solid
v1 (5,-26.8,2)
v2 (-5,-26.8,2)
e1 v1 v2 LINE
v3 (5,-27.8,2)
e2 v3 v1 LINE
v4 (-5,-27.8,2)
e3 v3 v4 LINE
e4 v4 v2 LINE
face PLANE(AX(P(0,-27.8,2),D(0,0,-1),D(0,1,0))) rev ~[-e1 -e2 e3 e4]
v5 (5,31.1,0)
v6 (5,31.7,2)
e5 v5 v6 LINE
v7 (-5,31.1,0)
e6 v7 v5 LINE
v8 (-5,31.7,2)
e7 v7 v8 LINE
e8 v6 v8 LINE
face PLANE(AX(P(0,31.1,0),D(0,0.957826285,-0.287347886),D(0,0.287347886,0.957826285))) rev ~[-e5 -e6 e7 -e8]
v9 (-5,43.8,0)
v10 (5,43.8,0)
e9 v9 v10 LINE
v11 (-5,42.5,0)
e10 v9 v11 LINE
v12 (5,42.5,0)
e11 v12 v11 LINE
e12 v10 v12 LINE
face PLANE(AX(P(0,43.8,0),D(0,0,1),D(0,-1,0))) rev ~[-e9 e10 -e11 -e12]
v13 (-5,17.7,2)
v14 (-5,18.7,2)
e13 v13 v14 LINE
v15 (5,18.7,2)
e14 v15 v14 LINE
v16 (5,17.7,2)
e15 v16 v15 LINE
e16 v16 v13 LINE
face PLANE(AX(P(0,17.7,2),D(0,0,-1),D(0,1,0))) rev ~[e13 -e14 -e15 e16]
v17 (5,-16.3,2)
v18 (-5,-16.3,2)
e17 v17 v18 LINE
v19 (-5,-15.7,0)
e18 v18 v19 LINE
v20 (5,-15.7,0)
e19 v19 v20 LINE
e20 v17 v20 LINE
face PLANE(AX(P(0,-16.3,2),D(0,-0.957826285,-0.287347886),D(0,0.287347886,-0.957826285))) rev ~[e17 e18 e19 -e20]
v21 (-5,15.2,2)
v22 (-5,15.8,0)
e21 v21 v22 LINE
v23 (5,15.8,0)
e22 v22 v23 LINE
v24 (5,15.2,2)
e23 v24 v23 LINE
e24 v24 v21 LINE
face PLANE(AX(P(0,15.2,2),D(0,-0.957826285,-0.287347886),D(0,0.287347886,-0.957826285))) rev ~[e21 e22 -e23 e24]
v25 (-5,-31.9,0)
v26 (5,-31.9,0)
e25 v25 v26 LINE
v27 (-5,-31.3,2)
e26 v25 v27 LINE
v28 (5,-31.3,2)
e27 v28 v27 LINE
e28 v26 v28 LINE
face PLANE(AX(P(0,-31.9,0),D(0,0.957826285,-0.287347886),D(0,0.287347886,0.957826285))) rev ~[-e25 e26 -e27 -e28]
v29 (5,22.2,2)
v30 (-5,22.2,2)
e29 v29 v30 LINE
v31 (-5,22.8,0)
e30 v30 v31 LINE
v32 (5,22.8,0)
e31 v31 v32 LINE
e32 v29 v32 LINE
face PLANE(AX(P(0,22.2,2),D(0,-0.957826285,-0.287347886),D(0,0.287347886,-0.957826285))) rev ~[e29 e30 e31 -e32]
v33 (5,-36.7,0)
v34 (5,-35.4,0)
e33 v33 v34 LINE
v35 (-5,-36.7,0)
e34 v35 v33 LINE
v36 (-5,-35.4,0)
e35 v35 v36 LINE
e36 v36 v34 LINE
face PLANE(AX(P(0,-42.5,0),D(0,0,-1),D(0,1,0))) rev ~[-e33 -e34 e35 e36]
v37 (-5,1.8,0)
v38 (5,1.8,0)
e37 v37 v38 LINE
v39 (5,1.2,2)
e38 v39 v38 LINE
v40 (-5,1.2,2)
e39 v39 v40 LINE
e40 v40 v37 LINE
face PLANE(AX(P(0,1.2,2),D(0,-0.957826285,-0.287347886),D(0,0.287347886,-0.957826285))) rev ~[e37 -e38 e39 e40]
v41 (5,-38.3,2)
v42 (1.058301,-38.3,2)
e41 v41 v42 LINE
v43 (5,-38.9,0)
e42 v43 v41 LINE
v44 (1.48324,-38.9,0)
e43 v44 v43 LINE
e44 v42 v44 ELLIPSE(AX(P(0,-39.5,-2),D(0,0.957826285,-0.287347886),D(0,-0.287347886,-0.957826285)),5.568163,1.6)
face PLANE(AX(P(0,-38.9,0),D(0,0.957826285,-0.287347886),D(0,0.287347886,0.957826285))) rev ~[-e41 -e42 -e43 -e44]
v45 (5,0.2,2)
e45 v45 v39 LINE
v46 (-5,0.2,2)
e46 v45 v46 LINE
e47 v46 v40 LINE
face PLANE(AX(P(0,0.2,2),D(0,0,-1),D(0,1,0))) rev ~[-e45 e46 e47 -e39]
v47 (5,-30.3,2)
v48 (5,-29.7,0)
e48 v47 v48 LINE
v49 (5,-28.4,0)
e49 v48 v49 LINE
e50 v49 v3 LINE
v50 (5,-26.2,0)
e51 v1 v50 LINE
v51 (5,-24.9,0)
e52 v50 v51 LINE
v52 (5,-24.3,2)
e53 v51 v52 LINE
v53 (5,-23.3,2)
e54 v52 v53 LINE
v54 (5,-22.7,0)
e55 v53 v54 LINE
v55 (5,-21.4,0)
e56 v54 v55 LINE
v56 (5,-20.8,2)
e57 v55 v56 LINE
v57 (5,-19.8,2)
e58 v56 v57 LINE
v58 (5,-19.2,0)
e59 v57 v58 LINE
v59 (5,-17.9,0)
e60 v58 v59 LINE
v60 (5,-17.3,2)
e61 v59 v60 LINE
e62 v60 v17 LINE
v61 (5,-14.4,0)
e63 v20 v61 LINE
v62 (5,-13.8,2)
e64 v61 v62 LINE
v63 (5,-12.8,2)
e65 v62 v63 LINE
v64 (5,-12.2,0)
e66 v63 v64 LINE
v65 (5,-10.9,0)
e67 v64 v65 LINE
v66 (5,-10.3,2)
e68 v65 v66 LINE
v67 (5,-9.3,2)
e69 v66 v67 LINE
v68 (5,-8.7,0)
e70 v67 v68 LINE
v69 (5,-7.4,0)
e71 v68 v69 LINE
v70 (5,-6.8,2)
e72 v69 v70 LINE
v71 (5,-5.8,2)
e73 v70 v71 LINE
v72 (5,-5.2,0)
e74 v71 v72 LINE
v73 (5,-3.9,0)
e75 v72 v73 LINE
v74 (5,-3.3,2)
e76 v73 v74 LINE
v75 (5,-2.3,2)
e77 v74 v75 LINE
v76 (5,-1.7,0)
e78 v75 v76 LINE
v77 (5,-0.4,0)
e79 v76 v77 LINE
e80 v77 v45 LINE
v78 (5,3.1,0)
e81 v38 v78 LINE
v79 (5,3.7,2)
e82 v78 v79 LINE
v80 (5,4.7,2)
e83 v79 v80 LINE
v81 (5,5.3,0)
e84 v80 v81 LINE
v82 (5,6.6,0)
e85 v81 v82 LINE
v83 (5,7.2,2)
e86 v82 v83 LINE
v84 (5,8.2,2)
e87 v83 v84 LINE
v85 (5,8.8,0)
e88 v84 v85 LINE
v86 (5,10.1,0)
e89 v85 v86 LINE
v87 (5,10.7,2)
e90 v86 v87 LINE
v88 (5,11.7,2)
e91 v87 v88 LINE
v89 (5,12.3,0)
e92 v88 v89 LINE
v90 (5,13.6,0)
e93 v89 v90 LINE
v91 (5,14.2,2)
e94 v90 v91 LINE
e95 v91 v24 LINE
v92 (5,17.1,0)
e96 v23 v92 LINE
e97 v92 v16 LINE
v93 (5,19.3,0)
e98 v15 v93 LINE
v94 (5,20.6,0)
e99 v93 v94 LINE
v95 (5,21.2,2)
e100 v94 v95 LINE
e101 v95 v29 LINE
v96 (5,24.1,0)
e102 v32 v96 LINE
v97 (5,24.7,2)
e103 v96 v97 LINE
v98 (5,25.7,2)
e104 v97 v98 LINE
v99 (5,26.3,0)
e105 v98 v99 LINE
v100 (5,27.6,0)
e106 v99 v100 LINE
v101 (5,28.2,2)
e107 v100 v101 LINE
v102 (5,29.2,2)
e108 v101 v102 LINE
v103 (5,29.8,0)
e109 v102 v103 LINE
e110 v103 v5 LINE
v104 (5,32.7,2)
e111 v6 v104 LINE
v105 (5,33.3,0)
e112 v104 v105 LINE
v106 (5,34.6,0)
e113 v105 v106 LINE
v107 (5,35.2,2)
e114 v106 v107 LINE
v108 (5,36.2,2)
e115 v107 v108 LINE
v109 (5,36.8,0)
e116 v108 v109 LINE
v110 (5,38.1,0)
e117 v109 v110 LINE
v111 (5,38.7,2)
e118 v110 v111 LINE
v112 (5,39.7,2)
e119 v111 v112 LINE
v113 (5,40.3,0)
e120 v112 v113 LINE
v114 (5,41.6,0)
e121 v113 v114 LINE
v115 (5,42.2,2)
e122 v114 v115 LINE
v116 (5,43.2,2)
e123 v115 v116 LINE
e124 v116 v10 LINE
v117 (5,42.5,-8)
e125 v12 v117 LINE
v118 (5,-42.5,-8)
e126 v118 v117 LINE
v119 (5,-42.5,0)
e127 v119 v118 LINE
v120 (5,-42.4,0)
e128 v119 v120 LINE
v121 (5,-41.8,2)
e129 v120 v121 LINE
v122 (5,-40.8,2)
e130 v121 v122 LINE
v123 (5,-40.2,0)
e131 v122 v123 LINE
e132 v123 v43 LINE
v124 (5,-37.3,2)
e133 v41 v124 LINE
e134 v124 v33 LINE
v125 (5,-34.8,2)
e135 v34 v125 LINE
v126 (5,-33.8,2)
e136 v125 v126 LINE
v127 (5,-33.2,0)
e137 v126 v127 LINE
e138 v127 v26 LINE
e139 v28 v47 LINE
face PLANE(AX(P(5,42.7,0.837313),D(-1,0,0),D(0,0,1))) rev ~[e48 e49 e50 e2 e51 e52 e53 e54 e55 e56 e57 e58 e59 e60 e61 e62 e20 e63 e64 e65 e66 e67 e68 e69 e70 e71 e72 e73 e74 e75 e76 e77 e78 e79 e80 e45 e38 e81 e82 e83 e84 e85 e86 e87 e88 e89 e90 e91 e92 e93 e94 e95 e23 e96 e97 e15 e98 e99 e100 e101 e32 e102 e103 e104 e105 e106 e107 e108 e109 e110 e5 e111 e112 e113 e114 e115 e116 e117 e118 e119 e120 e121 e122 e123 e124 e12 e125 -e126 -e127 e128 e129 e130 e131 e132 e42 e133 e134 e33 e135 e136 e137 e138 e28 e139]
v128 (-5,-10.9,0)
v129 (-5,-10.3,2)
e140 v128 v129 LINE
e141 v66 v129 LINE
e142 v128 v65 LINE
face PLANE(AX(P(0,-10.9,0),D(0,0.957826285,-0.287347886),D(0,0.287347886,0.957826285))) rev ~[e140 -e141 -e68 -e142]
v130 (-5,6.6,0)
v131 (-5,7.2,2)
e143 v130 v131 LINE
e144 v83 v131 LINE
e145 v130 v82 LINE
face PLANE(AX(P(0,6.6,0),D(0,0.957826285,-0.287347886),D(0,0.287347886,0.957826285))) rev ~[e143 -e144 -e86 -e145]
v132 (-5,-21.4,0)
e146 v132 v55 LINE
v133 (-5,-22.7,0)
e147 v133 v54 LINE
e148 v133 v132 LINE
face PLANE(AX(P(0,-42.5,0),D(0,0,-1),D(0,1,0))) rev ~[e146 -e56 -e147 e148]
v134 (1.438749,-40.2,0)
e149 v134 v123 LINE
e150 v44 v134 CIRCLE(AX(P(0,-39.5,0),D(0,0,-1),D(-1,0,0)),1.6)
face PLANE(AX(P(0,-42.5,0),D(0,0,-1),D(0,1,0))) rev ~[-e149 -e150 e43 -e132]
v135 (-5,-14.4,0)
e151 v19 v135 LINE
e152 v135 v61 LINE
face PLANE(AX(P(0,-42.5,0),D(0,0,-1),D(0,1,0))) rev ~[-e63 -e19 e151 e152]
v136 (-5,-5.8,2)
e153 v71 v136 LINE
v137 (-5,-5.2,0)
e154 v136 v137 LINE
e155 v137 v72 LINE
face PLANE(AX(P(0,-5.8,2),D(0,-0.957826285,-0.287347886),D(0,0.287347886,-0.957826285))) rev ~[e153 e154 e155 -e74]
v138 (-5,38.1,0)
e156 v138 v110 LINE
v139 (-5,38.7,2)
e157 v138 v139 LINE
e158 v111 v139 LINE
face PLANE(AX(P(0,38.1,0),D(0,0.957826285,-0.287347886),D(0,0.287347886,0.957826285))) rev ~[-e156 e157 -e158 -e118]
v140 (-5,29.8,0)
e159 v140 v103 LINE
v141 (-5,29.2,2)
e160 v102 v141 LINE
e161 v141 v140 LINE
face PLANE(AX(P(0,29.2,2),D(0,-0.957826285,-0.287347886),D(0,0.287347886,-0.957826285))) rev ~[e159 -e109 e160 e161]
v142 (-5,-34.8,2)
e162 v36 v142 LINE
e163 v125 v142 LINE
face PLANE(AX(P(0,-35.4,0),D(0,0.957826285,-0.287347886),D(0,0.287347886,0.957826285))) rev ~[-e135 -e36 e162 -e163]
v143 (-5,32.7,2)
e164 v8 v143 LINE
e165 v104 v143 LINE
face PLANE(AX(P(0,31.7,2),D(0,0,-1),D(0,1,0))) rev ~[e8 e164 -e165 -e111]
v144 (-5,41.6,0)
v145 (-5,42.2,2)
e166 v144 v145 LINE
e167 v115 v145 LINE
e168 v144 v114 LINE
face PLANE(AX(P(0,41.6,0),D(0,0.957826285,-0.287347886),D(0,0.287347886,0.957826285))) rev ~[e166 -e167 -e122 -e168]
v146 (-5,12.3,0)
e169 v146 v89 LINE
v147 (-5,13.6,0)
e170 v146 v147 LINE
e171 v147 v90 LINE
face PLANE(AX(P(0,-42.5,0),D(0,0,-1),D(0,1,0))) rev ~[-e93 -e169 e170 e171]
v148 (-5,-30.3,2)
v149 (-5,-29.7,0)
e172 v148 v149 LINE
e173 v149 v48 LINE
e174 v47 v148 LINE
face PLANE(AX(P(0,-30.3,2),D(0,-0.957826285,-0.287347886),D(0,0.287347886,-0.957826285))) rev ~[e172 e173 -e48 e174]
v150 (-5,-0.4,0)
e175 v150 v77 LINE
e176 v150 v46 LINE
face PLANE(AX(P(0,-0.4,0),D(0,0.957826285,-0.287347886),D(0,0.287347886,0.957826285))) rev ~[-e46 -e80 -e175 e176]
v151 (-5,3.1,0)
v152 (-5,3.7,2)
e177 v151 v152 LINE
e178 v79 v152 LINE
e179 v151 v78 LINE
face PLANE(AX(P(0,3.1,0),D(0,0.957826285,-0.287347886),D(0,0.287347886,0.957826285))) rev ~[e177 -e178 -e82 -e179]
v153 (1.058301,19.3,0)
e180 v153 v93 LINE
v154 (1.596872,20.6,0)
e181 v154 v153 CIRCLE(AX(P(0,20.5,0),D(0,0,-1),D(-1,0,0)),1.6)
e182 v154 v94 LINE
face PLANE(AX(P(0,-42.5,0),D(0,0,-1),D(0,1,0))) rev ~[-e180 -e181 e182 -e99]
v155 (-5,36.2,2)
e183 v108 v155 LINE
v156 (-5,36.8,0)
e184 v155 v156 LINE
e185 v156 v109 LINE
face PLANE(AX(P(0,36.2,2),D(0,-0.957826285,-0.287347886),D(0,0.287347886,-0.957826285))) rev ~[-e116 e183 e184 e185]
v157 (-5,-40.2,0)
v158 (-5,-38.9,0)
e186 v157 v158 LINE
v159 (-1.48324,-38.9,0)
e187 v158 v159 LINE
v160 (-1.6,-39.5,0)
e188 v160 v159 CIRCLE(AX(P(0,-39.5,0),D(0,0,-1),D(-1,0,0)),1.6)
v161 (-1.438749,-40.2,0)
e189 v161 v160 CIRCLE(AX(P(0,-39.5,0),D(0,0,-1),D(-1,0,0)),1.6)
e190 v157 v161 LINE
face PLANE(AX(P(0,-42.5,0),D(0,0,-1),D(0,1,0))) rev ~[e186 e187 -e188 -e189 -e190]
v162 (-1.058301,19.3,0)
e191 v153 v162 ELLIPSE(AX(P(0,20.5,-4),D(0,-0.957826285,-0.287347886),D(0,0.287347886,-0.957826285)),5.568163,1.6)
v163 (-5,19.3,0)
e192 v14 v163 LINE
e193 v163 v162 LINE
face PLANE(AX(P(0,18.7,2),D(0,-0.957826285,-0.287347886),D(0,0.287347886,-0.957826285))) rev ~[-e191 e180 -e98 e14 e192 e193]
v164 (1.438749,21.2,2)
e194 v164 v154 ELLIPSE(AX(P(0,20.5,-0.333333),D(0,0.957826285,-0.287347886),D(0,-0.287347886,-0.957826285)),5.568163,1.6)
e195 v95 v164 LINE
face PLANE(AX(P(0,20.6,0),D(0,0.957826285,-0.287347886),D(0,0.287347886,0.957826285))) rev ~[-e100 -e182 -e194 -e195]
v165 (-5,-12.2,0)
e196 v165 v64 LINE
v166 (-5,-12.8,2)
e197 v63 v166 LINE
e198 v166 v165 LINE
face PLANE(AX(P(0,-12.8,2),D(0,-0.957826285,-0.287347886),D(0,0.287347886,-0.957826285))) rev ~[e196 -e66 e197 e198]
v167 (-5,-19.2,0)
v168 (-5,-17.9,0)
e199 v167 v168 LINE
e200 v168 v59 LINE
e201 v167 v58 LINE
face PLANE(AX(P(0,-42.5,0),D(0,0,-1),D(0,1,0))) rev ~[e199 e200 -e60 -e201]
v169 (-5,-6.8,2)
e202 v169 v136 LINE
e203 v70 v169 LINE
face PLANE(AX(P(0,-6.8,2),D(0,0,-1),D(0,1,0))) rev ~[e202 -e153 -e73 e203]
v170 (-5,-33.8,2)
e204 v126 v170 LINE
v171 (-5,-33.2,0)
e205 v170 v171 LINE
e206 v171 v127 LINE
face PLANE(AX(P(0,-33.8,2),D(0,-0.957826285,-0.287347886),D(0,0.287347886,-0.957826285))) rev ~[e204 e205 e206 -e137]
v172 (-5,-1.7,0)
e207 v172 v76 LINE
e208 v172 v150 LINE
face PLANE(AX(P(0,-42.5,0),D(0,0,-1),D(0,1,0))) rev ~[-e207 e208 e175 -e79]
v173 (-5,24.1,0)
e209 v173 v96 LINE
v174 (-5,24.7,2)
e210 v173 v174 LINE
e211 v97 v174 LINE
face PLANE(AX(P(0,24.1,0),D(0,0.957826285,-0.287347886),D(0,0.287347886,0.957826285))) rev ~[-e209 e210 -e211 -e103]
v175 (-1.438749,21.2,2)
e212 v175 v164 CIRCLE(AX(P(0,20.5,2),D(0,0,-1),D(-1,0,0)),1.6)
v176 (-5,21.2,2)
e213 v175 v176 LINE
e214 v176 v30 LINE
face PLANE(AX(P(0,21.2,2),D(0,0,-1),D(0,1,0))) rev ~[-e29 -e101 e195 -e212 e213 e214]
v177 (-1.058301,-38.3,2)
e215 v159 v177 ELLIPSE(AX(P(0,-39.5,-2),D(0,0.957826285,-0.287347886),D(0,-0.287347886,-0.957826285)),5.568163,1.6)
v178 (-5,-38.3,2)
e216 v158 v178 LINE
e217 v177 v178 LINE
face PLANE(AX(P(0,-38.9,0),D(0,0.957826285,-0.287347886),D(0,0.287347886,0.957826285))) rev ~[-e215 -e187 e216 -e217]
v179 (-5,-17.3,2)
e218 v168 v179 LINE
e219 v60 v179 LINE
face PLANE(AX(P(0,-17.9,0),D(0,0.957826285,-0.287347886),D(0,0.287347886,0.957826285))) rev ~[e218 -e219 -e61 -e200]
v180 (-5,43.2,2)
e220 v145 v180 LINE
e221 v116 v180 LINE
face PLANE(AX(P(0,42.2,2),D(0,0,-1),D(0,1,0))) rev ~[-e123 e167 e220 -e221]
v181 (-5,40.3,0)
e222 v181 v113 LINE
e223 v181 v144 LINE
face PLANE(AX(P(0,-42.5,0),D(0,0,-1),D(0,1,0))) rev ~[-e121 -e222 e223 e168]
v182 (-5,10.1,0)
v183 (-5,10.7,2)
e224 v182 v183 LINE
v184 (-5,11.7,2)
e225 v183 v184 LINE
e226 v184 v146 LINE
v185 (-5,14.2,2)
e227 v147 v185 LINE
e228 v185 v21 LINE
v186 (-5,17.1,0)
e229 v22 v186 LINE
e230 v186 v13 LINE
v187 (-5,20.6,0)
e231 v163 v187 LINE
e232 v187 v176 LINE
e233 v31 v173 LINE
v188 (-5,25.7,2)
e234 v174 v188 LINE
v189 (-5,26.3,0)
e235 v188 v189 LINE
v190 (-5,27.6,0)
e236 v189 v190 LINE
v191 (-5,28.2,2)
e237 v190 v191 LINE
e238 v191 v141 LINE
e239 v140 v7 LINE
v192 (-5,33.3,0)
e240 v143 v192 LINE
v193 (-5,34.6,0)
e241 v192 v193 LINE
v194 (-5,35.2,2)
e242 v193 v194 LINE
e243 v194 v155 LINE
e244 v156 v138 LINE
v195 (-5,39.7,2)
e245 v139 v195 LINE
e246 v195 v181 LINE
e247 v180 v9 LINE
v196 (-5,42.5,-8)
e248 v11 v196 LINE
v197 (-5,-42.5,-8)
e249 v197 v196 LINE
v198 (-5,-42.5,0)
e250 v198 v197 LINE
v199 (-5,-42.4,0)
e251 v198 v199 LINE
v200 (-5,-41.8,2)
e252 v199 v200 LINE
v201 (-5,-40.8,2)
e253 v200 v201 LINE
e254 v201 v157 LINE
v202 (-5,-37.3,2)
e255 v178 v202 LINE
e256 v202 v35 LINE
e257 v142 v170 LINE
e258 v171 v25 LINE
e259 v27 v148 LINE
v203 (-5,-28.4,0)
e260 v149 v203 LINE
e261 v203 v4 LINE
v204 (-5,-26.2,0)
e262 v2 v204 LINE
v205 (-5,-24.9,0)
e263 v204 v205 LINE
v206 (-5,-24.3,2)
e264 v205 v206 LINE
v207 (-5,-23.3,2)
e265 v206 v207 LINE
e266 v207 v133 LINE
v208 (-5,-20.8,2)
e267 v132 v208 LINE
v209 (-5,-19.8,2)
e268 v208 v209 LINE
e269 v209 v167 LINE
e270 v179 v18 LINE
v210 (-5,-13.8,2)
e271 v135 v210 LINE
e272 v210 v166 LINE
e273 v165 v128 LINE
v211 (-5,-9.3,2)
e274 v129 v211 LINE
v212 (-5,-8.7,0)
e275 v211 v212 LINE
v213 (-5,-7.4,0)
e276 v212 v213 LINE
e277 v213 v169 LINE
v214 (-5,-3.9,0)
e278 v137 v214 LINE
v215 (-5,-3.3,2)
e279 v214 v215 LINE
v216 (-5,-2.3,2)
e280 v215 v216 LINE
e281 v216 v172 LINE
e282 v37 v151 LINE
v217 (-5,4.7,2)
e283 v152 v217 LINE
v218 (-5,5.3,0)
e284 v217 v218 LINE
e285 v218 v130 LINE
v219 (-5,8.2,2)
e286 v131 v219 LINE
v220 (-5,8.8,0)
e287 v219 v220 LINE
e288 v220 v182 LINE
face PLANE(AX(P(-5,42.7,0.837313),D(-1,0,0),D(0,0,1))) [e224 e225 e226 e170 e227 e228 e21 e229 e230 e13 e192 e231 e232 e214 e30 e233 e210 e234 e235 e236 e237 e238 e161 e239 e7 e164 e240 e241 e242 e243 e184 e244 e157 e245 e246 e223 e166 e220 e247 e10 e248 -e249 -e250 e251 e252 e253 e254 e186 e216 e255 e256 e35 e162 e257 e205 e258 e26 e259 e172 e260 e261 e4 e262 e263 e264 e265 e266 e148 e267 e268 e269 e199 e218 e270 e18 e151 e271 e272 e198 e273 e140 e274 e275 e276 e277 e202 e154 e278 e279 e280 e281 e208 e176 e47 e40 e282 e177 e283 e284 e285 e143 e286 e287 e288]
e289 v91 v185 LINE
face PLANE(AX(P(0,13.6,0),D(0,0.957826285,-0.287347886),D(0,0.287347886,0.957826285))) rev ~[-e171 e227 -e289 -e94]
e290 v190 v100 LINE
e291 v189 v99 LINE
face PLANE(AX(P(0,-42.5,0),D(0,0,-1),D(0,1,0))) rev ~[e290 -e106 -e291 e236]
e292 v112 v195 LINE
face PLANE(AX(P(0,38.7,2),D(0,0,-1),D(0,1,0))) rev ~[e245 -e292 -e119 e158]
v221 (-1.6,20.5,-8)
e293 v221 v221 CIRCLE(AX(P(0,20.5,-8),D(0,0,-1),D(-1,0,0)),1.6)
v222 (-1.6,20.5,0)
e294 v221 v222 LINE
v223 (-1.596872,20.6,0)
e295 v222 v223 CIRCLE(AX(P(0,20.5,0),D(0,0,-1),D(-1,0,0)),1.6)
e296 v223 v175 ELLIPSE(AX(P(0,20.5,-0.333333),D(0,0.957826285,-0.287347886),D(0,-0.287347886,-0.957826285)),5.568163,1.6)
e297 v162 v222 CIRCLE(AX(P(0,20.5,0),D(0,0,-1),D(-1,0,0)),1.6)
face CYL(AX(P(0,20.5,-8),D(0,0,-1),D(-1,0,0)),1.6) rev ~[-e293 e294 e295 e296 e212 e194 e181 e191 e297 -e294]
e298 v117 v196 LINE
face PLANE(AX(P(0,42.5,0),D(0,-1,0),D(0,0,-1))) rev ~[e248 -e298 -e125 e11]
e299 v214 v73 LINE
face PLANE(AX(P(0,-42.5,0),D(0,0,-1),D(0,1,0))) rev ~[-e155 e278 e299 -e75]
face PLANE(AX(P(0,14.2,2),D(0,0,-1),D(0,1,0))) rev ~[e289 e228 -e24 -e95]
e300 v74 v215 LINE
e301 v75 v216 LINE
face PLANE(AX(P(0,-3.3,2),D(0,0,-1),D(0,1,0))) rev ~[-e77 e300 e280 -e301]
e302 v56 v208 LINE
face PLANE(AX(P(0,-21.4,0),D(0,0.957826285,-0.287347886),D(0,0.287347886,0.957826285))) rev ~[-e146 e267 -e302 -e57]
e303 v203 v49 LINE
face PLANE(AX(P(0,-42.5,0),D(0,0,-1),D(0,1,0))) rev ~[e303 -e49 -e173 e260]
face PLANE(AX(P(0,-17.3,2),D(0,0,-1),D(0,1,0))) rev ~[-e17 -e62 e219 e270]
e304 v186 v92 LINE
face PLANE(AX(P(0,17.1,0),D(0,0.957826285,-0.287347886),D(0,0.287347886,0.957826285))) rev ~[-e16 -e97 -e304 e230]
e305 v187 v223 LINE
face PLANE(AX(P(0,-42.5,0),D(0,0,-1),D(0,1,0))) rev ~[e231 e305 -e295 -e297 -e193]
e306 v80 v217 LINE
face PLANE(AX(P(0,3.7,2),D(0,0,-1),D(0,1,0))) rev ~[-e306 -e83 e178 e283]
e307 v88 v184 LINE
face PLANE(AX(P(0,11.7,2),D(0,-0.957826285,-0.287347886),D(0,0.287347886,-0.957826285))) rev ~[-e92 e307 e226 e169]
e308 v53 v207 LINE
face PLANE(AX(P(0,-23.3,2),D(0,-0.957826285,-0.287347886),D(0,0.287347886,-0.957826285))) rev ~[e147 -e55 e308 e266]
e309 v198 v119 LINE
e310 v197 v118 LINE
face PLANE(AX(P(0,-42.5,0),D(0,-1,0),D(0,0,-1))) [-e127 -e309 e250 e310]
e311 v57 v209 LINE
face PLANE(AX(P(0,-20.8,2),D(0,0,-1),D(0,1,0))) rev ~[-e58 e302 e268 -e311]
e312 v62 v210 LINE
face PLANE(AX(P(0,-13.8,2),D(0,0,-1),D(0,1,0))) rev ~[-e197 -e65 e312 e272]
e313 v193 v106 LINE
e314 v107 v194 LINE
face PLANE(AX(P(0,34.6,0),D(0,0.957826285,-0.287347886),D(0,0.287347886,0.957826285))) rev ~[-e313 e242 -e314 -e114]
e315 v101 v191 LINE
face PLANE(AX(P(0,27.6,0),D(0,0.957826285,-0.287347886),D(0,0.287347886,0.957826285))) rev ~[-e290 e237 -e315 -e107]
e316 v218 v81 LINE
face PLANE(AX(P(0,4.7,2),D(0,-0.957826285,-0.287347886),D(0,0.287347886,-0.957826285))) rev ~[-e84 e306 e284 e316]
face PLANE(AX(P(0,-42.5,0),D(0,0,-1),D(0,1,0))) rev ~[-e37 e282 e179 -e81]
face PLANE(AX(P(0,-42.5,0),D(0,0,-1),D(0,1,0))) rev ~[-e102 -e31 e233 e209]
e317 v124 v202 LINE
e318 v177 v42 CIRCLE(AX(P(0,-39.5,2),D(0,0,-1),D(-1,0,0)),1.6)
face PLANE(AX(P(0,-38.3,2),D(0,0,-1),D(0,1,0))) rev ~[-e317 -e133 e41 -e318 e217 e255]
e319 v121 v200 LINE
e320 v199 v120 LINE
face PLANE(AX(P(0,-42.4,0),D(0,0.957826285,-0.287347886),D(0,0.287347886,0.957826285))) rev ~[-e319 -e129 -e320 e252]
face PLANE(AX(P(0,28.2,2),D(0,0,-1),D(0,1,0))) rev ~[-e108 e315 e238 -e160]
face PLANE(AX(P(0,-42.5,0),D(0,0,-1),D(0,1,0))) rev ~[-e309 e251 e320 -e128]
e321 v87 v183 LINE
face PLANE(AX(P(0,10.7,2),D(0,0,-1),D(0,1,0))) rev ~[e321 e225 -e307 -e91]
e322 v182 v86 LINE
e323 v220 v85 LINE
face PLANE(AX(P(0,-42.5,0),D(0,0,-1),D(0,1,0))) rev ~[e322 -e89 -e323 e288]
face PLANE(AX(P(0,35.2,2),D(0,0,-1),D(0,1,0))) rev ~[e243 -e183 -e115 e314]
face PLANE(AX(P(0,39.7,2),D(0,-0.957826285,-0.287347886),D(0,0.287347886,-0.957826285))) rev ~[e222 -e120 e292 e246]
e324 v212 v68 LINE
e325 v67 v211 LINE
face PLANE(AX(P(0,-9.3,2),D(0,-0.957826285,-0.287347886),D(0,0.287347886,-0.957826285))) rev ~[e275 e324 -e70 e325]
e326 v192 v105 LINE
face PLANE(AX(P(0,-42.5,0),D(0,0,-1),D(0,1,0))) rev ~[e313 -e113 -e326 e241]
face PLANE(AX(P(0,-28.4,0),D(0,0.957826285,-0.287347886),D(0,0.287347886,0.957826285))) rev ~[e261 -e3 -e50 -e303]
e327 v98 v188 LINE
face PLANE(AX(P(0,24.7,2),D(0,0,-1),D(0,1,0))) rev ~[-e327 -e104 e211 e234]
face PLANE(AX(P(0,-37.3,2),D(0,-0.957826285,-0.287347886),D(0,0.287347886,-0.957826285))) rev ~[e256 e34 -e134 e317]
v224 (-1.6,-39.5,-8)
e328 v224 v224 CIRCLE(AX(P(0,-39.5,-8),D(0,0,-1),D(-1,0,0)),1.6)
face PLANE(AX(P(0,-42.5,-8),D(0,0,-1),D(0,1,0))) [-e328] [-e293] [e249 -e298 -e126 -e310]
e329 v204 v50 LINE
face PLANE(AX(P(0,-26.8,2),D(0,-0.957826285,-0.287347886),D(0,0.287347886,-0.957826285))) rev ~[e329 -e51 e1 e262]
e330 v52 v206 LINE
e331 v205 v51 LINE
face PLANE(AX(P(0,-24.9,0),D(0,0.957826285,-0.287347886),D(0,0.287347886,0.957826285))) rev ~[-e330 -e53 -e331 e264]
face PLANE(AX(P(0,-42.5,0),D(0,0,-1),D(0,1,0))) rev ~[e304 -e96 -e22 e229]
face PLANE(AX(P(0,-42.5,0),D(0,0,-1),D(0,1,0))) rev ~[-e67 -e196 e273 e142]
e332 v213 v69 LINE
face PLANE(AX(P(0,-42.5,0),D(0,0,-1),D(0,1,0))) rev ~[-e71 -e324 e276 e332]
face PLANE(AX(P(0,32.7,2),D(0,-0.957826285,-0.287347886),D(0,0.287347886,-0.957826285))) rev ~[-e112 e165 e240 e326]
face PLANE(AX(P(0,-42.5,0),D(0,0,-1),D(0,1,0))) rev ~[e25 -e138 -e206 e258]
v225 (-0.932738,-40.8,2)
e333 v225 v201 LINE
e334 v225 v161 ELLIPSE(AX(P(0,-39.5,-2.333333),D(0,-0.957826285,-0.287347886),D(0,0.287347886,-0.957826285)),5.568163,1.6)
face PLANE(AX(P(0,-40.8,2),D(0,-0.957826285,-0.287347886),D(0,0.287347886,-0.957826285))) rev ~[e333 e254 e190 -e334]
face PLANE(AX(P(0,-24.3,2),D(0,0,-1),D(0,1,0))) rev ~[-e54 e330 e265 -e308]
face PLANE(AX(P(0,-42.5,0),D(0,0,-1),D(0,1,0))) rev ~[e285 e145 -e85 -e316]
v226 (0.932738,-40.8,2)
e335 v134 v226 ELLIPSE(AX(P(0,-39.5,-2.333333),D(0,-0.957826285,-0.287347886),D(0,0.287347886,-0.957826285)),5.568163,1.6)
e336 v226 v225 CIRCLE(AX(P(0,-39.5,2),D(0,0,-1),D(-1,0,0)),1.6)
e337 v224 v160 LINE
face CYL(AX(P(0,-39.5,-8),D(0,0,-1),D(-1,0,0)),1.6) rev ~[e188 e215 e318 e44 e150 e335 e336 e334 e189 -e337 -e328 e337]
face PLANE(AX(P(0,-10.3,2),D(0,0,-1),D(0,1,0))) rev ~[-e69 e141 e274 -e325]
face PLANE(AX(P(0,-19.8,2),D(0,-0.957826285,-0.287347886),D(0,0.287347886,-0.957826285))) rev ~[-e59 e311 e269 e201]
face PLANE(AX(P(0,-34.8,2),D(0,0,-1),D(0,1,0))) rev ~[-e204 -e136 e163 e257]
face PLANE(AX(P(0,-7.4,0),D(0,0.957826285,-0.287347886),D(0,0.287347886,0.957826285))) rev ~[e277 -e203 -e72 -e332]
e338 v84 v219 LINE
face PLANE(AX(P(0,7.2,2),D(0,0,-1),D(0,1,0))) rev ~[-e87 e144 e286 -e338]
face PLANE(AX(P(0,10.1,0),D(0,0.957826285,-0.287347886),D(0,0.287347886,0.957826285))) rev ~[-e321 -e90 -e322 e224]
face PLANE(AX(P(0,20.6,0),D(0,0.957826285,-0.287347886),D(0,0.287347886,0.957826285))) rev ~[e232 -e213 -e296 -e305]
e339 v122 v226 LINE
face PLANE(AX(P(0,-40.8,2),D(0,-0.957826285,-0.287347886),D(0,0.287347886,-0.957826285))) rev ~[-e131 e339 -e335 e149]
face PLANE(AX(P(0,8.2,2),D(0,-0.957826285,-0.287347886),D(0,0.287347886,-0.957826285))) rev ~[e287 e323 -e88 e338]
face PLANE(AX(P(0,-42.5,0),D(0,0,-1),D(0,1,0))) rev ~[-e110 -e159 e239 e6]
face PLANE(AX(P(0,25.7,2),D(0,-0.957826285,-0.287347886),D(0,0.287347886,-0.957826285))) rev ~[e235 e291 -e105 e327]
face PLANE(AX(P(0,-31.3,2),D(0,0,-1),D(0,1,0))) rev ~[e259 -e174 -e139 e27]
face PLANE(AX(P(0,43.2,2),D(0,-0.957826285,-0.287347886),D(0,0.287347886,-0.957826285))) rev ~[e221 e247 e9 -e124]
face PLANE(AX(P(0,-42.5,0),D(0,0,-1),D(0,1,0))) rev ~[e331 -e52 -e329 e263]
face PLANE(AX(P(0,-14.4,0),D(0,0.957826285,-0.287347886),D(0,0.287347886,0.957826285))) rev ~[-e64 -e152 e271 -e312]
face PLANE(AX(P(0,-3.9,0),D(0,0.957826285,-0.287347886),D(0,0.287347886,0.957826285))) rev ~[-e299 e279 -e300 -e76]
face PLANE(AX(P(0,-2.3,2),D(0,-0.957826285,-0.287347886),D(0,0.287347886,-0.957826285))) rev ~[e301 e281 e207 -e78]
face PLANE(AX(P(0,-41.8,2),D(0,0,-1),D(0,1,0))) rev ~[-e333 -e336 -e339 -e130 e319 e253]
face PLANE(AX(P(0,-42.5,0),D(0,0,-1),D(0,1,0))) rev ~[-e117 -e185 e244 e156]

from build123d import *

# Parameters (mm, degrees)
SKETCH_1_W             = 8
SKETCH_1_H             = 85
EXTRUDE_1_DEPTH        = 5
EXTRUDE_2_DEPTH        = 5
PATTERN_LINEAR_1_COUNT = 51
PATTERN_LINEAR_1_PITCH = 3.5
SKETCH_3_R             = 1.6
CUT_EXTRUDE_1_DEPTH    = 46.204424562


with BuildPart() as part:
    # 草图1 → 凸台-拉伸1 (new, symmetric)
    with BuildSketch(Plane(origin=(0, 0, 0), x_dir=(0, 0, -1), z_dir=(1, 0, 0))):
        with Locations((4, 0)):
            Rectangle(SKETCH_1_W, SKETCH_1_H)
    extrude(amount=EXTRUDE_1_DEPTH, both=True)

    # 草图2 → 凸台-拉伸2 (add, symmetric)
    with BuildSketch(Plane(origin=(0, 0, 0), x_dir=(0, 0, -1), z_dir=(1, 0, 0))):
        Polygon((0, -42.4), (-2, -41.8), (-2, -40.8), (0, -40.2), align=None)
    extrude_2 = extrude(amount=EXTRUDE_2_DEPTH, both=True)

    # 阵列(线性)1: 凸台-拉伸2 ×51, 26 skipped
    with Locations(*[(0, i * PATTERN_LINEAR_1_PITCH, 0) for i in range(1, PATTERN_LINEAR_1_COUNT) if i not in (25, 26, 27, 28, 29, 30, 31, 32, 33, 34, 35, 36, 37, 38, 39, 40, 41, 42, 43, 44, 45, 46, 47, 48, 49, 50)]):
        add(extrude_2)

    # 草图3 → 切除-拉伸1 (cut, through all)
    with BuildSketch(Plane(origin=(0, 0, -8), x_dir=(-1, 0, 0), z_dir=(0, 0, -1))):
        with Locations((0, -39.5)):
            Circle(SKETCH_3_R)
        with Locations((0, 20.5)):
            Circle(SKETCH_3_R)
        with Locations((0, 80.5)):
            Circle(SKETCH_3_R)
    extrude(amount=-CUT_EXTRUDE_1_DEPTH, mode=Mode.SUBTRACT)


solid = part.part
